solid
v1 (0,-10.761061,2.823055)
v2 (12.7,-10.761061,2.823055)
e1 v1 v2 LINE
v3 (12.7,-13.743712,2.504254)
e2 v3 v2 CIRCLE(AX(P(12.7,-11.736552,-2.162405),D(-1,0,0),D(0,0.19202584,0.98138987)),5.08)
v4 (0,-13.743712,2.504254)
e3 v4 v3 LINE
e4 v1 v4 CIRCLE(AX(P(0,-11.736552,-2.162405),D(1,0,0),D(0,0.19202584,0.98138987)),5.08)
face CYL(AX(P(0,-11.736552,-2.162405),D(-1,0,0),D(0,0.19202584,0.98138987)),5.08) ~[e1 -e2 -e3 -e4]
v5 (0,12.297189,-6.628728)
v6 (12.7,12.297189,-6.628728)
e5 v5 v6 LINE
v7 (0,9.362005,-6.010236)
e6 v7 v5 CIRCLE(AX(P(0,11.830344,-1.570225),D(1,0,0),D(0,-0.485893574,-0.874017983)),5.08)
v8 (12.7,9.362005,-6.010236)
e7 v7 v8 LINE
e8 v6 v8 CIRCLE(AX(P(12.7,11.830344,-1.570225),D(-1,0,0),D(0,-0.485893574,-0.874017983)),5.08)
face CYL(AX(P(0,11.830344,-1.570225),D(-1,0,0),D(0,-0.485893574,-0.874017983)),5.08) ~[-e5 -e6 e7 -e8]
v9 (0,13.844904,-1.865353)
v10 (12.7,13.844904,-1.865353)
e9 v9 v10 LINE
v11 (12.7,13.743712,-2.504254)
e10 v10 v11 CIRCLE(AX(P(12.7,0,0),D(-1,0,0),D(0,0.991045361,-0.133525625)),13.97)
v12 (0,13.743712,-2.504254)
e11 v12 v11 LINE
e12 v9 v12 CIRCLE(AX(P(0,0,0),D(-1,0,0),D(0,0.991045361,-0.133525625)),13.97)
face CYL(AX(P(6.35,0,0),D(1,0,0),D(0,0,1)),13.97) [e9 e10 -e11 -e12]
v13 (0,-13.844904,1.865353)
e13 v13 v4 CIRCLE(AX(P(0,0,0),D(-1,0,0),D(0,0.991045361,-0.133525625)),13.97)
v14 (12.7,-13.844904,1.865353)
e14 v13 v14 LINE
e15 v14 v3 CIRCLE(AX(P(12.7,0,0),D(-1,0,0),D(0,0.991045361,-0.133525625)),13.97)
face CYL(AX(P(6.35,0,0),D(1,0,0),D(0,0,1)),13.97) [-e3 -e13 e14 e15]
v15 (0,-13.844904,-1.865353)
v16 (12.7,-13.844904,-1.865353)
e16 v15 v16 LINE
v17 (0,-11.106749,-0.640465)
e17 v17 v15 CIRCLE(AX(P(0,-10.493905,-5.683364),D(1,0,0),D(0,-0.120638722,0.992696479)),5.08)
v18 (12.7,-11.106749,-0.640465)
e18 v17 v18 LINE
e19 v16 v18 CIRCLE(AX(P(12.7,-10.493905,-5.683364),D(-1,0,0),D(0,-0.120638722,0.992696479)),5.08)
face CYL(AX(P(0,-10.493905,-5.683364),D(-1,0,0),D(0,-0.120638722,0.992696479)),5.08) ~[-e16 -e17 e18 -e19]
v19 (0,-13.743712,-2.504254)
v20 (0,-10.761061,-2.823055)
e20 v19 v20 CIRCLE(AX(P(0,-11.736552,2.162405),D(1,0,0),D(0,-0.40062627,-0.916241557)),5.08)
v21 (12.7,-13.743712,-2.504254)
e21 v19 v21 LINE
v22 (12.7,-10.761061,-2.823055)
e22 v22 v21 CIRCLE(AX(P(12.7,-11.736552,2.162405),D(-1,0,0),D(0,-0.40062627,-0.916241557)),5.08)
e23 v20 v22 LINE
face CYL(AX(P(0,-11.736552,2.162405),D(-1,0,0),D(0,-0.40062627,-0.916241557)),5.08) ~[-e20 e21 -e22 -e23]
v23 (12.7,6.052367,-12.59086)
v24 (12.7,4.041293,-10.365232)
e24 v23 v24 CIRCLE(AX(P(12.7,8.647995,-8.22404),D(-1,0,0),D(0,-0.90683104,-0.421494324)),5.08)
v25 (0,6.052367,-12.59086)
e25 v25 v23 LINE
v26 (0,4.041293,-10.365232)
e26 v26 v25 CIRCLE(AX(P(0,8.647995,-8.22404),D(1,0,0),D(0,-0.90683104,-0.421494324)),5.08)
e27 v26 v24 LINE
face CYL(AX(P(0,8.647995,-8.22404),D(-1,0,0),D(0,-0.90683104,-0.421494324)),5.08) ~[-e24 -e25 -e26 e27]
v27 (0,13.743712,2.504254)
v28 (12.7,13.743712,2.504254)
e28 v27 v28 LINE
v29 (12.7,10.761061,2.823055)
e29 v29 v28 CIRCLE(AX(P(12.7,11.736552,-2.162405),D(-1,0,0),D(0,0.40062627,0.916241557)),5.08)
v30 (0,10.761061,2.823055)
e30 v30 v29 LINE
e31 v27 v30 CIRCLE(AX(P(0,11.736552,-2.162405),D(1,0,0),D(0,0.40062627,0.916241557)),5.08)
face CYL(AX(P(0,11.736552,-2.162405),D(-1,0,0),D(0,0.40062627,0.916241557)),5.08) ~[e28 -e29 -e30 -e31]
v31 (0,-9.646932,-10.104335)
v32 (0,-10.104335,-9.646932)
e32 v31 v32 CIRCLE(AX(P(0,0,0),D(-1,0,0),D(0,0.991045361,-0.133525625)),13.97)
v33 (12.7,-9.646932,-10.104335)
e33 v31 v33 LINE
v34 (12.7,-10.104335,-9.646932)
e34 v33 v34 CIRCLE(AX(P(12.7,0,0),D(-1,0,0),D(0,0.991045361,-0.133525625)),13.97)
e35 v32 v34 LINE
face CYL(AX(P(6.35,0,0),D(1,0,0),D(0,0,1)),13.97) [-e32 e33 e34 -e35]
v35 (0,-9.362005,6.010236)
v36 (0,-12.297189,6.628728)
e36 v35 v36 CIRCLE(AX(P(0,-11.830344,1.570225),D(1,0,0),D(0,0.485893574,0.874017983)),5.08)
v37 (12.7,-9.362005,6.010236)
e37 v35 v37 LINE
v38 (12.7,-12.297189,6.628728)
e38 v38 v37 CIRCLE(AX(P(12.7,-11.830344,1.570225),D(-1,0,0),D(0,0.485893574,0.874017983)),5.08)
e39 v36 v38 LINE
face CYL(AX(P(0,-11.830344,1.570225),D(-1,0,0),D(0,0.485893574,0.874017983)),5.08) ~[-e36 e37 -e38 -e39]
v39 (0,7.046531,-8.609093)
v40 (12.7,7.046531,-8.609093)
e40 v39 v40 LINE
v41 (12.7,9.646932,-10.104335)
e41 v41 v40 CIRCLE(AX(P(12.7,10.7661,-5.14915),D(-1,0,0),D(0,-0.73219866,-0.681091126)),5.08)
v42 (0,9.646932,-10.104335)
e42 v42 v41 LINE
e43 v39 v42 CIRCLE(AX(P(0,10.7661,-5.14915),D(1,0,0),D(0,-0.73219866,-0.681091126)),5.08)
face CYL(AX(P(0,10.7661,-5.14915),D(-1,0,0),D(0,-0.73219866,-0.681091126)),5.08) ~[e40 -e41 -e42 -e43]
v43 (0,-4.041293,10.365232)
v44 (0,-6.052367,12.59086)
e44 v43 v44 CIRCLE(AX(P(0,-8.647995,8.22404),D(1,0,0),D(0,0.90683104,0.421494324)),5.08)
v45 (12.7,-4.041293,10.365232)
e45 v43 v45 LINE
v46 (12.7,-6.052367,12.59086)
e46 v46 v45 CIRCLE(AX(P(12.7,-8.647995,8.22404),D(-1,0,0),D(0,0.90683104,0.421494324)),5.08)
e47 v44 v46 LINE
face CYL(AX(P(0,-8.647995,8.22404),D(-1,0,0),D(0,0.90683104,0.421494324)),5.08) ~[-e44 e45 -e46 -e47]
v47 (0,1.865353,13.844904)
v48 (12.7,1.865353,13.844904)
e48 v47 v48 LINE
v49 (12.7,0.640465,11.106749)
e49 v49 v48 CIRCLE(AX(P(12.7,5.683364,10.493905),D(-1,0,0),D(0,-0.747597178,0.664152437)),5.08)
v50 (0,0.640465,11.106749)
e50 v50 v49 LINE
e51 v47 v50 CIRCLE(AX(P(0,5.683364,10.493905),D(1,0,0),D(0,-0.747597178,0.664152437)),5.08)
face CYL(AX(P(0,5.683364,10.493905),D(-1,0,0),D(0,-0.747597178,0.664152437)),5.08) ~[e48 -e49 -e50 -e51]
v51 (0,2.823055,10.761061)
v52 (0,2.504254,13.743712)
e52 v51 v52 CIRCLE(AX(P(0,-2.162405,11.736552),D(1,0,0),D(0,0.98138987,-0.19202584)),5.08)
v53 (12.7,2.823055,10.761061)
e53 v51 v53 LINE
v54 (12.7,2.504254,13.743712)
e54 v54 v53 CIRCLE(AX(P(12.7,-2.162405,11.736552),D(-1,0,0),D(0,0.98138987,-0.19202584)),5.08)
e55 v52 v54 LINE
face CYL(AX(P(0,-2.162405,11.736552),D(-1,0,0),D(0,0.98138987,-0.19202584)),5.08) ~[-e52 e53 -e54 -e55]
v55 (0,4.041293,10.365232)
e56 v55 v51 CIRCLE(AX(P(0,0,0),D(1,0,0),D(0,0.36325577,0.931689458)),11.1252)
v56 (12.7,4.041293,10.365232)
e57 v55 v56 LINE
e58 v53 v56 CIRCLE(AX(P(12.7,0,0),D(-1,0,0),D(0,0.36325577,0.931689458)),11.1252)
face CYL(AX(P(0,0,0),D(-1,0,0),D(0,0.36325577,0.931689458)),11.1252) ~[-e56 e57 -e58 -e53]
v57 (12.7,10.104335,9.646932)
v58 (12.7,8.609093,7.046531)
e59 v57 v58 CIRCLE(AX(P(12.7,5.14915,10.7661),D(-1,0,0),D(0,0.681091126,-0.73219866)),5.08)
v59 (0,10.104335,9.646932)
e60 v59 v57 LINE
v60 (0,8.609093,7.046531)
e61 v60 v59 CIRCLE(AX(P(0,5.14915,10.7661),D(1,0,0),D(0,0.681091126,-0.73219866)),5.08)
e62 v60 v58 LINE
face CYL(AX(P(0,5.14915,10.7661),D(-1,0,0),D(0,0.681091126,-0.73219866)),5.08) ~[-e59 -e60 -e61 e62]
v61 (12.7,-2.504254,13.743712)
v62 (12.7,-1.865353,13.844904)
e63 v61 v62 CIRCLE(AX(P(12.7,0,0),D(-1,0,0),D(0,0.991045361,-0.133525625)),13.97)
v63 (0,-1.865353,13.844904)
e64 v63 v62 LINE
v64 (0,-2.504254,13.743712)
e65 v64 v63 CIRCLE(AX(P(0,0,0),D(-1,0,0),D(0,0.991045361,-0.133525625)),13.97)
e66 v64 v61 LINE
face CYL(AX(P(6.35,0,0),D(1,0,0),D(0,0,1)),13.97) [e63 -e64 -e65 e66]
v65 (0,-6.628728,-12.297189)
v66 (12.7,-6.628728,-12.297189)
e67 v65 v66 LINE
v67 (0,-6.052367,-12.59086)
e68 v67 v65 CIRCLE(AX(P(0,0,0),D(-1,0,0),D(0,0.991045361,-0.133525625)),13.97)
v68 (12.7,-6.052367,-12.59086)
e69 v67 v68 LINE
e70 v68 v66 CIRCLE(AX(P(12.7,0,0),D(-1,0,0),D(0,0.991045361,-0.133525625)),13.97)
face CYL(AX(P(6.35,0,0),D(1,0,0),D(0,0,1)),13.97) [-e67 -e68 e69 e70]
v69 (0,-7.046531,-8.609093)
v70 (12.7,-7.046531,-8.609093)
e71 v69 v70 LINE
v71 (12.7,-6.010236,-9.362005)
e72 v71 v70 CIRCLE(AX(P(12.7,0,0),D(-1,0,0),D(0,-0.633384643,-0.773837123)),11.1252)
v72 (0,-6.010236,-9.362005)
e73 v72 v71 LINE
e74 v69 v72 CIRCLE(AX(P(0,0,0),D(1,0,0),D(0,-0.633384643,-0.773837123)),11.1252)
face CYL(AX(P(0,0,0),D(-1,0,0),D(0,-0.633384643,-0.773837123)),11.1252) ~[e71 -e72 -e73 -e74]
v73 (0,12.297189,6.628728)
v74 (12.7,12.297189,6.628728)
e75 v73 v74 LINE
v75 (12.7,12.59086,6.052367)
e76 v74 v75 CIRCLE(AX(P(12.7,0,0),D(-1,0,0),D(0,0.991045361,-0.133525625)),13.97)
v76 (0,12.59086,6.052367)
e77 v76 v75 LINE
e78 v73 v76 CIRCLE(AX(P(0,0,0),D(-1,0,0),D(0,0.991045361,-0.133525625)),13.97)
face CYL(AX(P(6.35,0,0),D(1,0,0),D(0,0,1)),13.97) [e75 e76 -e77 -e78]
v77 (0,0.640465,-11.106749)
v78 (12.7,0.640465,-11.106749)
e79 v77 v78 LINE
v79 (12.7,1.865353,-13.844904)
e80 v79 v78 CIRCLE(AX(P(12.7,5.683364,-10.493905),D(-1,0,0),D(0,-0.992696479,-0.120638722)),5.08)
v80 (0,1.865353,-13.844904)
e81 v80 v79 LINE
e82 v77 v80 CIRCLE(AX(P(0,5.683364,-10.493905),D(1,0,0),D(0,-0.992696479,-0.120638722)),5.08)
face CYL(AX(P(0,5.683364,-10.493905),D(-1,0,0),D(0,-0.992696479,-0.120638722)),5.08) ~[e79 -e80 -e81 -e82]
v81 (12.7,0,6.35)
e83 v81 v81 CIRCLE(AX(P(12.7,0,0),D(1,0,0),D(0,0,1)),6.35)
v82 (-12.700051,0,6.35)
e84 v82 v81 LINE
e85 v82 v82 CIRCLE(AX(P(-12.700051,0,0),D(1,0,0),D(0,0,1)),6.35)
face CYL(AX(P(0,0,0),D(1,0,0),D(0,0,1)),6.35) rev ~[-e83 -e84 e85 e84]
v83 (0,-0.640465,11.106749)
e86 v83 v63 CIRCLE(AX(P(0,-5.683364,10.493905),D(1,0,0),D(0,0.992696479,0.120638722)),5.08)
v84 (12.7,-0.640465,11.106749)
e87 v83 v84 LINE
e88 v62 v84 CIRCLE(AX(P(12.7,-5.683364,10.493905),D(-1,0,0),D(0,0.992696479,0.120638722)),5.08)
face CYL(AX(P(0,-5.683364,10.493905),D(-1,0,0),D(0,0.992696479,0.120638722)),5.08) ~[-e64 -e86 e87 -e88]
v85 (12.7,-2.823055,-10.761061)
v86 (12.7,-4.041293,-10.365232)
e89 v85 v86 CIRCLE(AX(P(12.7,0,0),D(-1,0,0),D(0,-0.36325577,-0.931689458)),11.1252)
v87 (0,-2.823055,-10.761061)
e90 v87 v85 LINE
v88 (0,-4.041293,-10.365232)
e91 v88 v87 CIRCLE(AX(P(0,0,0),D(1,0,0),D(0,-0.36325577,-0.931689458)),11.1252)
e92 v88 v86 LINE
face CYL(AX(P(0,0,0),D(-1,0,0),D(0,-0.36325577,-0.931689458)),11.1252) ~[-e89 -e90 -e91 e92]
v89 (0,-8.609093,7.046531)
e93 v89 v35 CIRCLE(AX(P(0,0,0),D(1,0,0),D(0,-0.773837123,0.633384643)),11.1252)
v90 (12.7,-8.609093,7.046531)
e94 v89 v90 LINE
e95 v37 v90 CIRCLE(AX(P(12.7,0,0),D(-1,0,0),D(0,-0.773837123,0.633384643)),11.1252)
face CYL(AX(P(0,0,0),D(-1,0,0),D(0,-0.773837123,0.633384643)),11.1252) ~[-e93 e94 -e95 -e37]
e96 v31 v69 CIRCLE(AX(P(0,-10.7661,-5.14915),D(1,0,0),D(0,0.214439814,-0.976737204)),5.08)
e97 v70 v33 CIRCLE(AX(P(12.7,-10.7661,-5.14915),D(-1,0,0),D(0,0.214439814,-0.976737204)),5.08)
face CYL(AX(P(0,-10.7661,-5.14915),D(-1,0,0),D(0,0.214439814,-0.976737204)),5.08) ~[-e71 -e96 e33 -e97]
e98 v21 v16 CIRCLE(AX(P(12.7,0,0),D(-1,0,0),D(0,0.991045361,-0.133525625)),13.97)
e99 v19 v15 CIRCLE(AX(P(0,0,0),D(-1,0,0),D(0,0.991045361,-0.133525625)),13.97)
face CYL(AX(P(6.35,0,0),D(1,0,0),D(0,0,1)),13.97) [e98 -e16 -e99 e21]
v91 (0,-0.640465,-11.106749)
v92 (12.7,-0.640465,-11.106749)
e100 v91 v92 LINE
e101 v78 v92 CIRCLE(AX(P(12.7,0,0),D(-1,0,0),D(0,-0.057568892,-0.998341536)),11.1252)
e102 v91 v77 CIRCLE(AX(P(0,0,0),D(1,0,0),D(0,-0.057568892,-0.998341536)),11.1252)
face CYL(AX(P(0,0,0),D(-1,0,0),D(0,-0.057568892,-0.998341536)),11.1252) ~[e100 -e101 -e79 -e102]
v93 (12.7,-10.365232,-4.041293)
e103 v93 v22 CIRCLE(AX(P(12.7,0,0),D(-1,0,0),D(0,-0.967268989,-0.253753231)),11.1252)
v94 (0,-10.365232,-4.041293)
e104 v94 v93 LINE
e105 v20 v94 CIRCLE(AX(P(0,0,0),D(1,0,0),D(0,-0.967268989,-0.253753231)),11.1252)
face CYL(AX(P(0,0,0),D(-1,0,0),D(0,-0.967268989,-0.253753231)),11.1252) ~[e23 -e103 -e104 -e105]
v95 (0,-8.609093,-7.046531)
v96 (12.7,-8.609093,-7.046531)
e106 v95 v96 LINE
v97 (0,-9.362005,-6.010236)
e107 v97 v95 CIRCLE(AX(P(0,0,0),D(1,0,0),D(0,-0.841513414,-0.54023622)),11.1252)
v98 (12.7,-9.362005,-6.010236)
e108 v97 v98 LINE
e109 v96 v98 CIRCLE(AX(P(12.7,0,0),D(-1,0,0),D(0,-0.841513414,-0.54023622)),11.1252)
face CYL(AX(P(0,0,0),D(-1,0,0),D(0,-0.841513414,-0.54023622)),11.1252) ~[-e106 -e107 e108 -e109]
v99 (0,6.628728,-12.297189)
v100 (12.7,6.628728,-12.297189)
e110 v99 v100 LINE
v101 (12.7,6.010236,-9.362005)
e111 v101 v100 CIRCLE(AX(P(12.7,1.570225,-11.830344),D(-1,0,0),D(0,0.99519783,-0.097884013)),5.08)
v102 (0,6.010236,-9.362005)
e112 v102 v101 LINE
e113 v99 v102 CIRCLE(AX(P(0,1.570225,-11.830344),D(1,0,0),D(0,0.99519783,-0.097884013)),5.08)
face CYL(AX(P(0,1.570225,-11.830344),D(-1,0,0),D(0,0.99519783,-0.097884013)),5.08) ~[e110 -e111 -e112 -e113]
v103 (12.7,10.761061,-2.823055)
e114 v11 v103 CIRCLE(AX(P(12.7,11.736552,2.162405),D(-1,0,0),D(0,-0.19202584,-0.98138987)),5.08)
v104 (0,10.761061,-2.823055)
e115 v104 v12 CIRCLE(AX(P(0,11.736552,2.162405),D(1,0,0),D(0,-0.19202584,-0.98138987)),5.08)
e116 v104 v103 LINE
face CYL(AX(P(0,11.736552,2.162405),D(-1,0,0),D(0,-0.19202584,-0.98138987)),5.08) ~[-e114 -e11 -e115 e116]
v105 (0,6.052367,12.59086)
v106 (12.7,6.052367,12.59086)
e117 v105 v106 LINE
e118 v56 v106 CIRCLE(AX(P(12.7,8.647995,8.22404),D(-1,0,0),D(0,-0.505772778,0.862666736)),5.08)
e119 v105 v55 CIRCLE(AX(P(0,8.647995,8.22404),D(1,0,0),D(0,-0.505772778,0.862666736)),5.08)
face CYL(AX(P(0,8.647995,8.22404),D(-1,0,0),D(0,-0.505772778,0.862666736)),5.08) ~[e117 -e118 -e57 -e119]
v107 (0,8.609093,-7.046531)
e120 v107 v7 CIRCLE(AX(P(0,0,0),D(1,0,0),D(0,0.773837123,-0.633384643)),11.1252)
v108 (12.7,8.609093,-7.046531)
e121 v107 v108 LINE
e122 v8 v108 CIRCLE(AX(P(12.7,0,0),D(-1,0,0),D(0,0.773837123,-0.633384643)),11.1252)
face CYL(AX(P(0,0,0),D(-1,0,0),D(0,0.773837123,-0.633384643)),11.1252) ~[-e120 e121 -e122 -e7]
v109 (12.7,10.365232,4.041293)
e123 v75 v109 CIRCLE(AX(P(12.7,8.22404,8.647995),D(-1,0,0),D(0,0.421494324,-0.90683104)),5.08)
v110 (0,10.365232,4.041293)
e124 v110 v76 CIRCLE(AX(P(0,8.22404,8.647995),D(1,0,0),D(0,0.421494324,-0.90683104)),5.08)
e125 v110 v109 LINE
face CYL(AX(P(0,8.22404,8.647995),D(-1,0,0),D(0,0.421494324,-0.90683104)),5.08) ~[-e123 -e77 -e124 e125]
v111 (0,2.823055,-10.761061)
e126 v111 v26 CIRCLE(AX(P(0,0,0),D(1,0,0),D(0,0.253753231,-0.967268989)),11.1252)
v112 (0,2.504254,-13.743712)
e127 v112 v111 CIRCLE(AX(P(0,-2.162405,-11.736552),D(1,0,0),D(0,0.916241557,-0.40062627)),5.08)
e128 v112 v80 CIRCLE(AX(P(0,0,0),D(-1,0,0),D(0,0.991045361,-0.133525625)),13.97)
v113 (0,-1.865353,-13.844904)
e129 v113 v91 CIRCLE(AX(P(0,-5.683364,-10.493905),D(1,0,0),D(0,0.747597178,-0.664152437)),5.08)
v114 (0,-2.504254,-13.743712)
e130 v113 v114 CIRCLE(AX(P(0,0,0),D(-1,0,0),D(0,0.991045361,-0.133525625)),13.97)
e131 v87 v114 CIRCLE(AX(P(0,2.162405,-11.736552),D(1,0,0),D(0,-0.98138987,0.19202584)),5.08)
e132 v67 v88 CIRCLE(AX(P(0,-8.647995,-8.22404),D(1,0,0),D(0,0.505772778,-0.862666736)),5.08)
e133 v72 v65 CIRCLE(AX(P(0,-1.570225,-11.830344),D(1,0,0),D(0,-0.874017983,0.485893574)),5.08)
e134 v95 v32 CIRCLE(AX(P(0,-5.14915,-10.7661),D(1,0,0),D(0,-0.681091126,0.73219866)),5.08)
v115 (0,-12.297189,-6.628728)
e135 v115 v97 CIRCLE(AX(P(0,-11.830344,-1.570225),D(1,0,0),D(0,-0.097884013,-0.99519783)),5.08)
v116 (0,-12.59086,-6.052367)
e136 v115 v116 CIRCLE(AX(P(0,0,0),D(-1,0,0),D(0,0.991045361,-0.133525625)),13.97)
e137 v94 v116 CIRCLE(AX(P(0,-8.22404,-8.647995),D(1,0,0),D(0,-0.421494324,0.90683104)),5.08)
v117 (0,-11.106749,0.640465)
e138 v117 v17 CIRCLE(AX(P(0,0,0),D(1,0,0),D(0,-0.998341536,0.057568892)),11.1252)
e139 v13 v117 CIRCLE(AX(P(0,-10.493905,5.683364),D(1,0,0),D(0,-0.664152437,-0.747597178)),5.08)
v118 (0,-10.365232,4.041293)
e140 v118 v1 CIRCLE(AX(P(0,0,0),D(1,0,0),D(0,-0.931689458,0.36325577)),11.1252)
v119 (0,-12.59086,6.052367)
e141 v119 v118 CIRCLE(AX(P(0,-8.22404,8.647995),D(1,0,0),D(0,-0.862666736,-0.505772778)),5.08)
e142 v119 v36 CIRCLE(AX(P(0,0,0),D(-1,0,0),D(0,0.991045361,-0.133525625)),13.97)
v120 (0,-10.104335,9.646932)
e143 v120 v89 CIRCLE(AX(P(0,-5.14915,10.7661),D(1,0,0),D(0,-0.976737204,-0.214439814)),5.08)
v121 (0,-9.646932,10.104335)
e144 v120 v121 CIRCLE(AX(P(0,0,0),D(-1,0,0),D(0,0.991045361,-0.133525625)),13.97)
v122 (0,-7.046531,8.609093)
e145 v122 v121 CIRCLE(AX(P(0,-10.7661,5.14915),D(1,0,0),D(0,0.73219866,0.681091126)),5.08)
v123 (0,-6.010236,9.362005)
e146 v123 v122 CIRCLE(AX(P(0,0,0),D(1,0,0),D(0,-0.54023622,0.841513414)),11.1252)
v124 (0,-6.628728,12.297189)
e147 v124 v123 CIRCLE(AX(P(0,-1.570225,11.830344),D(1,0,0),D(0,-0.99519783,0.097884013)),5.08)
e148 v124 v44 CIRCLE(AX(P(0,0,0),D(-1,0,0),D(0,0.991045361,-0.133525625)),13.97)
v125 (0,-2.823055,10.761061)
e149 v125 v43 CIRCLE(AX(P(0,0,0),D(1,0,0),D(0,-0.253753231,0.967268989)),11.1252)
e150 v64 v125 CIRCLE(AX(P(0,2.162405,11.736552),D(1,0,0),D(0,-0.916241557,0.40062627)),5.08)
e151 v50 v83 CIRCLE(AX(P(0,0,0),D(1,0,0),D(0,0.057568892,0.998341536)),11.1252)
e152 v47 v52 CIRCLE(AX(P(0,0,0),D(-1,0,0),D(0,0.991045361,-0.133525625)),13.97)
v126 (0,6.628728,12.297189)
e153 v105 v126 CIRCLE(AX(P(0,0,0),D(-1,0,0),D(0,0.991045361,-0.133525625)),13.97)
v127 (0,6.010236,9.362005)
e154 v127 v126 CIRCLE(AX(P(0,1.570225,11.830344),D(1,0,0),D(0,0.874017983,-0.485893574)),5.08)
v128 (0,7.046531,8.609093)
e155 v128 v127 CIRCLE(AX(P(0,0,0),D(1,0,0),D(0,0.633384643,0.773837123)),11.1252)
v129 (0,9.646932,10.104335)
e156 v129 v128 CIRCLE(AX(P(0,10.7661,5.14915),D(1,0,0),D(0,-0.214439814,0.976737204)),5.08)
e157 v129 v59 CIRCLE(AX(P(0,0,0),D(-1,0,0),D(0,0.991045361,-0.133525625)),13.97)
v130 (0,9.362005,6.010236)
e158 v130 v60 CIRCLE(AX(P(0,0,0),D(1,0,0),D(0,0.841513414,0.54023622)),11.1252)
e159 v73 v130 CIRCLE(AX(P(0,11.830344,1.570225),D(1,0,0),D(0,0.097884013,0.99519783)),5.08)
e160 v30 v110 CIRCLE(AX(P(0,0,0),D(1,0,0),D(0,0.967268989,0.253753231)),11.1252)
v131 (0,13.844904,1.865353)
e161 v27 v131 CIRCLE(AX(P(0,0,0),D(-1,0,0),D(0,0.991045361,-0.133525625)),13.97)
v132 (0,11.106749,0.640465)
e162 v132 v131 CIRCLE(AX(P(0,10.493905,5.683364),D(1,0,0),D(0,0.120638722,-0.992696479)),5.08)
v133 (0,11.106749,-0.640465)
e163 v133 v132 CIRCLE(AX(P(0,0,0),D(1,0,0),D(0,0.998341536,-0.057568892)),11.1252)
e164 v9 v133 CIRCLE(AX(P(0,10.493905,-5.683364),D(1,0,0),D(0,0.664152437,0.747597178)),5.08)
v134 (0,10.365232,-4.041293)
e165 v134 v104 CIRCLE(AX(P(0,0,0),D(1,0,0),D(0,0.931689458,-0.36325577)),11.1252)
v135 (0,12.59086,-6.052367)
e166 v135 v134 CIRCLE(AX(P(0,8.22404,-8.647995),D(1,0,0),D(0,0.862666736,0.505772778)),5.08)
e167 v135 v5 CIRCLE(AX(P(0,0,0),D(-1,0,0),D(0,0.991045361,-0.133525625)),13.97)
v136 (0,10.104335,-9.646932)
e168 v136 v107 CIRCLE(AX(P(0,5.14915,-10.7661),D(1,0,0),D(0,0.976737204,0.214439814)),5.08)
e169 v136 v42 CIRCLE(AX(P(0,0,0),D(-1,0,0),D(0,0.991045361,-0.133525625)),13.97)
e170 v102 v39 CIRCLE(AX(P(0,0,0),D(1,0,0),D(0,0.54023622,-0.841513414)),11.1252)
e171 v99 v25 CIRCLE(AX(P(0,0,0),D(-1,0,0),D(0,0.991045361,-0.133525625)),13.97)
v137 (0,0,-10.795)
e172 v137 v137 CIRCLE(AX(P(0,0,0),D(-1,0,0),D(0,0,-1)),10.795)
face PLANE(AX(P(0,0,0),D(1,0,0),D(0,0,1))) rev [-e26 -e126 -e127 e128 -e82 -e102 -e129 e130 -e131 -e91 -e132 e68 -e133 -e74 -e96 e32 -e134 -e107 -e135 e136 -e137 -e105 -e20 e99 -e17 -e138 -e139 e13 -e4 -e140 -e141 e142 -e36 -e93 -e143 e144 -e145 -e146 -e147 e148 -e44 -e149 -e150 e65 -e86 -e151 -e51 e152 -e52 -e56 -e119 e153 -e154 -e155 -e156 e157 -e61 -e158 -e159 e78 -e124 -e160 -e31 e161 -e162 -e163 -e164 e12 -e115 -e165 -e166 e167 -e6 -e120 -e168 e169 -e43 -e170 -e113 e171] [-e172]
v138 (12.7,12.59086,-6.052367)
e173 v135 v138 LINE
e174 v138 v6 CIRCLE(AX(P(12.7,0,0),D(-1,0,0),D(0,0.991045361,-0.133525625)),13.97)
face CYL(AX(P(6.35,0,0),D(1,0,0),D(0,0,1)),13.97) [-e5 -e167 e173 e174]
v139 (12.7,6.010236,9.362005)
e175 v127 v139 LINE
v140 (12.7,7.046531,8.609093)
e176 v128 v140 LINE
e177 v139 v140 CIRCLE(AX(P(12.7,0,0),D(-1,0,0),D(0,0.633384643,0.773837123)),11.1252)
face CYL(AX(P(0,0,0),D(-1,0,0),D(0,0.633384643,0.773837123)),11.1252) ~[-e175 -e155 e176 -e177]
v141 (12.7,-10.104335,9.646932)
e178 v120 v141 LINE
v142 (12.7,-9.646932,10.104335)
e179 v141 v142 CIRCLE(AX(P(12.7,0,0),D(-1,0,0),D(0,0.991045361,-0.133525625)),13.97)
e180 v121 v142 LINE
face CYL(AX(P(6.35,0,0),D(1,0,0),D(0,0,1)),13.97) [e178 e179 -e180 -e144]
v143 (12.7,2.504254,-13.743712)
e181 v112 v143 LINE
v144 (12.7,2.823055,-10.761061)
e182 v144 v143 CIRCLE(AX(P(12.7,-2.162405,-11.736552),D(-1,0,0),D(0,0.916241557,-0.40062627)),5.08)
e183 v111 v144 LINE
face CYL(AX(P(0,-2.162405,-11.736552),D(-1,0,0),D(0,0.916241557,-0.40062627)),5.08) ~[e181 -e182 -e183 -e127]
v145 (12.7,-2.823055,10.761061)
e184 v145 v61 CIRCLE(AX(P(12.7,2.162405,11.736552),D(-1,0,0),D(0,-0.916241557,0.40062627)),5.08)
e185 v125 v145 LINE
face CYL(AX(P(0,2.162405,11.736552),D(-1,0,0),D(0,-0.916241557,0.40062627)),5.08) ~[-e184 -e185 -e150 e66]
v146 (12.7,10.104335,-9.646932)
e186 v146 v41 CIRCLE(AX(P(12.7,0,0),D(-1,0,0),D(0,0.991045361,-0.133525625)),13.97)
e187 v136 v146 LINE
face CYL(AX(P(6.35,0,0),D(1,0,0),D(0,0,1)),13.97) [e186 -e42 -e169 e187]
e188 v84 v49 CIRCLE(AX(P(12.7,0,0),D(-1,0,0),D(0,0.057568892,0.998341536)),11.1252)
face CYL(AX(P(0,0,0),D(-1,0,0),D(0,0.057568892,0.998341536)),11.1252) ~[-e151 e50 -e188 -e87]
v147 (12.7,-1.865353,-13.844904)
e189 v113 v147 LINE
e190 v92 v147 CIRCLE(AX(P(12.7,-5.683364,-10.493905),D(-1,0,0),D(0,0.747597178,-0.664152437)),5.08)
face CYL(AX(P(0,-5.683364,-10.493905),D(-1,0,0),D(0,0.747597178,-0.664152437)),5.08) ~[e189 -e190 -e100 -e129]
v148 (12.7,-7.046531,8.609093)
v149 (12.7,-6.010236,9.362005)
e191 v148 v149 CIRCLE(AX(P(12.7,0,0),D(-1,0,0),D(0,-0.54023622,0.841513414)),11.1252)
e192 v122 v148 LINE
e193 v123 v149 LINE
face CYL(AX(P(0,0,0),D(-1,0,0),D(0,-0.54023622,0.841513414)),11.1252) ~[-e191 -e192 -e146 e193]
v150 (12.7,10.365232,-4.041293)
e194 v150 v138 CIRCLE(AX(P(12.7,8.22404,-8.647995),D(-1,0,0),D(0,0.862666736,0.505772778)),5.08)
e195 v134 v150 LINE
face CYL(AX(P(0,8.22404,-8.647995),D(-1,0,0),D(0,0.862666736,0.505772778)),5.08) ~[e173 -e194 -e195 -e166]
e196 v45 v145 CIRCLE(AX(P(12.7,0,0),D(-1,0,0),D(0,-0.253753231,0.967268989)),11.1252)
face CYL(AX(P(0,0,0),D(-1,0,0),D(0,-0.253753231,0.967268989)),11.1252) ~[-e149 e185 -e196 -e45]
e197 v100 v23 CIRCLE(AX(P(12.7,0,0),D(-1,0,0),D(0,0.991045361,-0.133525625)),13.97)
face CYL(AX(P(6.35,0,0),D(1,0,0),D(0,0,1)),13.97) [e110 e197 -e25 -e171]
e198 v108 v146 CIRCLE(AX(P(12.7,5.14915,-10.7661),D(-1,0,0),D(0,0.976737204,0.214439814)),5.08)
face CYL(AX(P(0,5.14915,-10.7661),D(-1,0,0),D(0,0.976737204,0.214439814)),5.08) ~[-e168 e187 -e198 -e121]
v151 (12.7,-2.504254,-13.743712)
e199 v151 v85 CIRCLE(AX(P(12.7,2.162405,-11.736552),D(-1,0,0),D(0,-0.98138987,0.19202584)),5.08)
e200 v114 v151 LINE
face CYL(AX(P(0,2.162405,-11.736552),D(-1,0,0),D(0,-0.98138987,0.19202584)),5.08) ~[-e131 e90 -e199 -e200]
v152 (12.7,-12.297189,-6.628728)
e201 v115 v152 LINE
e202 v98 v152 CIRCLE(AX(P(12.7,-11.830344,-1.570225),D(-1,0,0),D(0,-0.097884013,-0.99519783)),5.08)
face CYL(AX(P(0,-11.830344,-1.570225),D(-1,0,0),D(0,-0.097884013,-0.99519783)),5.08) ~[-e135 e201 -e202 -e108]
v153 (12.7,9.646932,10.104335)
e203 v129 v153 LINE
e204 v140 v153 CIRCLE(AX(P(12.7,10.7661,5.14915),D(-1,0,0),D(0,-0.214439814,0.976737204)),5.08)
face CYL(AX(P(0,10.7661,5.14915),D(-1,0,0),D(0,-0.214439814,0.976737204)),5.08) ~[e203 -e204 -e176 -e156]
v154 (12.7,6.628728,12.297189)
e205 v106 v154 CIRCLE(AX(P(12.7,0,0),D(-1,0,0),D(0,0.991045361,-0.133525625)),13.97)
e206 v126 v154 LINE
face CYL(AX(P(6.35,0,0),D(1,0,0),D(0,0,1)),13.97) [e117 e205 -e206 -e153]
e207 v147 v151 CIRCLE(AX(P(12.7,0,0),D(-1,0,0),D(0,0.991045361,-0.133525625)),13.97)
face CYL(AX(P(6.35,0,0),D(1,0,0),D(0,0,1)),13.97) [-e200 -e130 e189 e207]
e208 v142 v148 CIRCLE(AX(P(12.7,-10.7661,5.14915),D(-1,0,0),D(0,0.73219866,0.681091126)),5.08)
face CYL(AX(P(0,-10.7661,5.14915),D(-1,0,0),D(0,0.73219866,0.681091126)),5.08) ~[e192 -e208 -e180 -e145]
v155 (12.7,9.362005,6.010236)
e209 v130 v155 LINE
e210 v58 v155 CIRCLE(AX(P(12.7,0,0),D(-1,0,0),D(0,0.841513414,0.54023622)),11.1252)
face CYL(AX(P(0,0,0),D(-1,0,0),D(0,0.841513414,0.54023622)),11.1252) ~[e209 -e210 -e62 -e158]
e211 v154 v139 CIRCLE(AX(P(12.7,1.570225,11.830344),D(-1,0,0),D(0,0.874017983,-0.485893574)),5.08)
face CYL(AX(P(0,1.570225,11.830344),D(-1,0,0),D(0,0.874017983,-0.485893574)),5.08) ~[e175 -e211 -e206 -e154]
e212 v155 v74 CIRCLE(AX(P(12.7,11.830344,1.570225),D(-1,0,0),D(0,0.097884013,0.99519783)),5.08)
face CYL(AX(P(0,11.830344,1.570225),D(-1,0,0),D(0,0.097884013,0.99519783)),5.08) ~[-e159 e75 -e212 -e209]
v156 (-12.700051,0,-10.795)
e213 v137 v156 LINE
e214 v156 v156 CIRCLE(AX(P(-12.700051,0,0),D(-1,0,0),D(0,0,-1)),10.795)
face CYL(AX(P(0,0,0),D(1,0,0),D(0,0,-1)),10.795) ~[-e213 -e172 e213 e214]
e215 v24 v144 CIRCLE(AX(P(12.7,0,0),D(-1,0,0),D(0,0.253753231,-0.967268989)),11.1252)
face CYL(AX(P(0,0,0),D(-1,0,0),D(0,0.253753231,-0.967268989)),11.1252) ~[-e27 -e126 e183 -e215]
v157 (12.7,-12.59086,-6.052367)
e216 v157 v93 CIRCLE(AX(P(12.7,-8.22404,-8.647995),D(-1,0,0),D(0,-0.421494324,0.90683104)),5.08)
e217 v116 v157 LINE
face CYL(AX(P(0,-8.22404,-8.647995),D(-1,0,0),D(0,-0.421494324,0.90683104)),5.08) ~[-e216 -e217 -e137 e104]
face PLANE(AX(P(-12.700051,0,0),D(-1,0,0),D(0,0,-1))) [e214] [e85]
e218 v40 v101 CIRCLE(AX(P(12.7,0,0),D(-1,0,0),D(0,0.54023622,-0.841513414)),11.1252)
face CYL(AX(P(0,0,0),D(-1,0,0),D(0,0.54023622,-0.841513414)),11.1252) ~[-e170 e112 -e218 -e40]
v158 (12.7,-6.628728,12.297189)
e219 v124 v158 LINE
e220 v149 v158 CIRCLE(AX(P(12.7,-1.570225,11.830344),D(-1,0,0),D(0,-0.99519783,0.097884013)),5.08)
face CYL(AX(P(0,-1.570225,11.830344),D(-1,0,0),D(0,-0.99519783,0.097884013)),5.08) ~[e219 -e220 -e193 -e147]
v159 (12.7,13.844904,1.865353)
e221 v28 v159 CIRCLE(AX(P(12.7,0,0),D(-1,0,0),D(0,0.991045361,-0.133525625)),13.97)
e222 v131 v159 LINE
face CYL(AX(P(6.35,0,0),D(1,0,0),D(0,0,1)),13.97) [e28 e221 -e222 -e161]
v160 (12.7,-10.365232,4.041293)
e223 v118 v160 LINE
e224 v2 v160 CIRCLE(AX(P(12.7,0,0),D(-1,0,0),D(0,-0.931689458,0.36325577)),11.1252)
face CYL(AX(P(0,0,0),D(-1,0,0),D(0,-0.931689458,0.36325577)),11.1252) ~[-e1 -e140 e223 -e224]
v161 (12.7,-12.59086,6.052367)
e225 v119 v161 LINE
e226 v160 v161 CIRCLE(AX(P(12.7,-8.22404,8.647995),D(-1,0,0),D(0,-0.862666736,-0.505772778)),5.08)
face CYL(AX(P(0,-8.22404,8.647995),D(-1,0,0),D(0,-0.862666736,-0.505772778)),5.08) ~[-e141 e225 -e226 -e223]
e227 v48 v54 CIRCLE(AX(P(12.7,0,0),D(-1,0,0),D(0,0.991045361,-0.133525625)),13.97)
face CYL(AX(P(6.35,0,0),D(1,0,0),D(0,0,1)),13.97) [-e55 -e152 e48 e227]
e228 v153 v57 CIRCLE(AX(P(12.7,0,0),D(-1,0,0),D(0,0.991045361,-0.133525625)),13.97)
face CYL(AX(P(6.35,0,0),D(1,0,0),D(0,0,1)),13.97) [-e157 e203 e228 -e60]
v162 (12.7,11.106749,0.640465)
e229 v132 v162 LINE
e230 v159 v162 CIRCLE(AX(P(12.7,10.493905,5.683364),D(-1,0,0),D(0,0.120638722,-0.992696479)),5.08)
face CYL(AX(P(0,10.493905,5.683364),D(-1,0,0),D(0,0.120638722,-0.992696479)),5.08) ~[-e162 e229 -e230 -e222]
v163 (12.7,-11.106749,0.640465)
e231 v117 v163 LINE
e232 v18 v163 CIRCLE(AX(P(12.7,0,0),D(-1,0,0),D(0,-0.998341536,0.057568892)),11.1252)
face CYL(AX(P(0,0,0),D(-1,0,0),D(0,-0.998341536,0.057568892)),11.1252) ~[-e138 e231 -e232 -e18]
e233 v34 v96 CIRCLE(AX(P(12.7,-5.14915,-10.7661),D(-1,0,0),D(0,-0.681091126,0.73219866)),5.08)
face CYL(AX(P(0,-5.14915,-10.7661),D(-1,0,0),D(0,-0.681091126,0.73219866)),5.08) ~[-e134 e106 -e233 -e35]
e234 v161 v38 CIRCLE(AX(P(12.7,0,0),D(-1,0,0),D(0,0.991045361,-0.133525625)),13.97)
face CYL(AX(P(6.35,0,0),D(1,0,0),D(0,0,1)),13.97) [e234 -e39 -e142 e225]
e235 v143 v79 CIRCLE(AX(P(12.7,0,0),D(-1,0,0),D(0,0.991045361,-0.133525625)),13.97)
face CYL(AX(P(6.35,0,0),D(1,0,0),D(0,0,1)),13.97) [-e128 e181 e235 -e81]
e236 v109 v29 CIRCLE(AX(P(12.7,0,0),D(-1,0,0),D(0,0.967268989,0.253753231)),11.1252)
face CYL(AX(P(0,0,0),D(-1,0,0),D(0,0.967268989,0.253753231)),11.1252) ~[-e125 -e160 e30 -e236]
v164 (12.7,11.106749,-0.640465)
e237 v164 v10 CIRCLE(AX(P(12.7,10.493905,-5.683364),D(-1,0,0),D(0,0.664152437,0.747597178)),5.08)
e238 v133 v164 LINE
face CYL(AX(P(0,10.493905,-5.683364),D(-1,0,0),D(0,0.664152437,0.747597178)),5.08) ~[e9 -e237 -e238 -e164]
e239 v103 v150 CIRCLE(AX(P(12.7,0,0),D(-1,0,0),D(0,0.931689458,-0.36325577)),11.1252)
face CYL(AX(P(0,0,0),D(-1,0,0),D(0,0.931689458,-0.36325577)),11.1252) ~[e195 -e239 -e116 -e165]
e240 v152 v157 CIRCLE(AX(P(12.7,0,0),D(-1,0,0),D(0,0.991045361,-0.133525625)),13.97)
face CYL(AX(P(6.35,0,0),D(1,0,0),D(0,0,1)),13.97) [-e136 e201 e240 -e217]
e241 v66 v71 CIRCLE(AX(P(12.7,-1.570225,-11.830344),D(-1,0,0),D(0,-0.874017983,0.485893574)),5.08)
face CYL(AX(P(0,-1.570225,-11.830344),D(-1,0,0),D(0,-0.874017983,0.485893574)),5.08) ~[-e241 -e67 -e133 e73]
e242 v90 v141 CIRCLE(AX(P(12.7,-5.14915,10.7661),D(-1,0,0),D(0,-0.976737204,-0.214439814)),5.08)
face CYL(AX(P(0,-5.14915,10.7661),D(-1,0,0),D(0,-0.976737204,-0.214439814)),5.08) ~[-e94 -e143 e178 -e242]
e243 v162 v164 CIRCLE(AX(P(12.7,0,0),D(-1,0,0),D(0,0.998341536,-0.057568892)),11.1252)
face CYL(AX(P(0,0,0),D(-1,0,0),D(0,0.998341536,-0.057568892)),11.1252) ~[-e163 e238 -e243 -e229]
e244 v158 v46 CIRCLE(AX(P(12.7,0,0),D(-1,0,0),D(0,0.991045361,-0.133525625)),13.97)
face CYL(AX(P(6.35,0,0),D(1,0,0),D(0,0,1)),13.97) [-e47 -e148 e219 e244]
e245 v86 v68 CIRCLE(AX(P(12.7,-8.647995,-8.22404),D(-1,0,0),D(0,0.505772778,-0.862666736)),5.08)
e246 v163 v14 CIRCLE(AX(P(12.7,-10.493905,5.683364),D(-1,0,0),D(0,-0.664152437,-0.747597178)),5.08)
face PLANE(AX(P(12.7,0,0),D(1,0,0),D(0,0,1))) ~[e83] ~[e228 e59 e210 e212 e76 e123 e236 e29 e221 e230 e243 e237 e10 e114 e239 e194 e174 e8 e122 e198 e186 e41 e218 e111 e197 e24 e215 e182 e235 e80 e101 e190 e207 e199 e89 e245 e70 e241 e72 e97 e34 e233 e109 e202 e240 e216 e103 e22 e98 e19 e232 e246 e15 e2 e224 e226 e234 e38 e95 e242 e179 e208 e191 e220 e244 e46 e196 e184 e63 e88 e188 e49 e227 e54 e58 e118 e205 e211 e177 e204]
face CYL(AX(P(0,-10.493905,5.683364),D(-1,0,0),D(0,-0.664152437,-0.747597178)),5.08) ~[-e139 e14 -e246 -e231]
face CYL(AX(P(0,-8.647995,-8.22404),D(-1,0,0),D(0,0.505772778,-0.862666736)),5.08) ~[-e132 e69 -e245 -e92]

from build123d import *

# Parameters (mm, degrees)
BASPROSKE_W      = 12.7
BASPROSKE_H      = 13.97
TOOTHCUT_DEPTH   = 24.486417351
TEETHCUTS_COUNT  = 20
TEETHCUTS_ANGLE  = 342
HUBNEAONESKE_R   = 10.795
HUBNEARONE_DEPTH = 12.7000508
BORSKE_R         = 6.35
BORE_DEPTH       = 25.4000508


with BuildPart() as part:
    # BasProSke → Base-Revolve (revolve)
    with BuildSketch(Plane(origin=(0, 0, 0), x_dir=(1, 0, 0), z_dir=(0, 1, 0)), mode=Mode.PRIVATE) as base_revolve_sk:
        with Locations((6.35, 6.985)):
            Rectangle(BASPROSKE_W, BASPROSKE_H)
    revolve(base_revolve_sk.sketch.rotate(Axis((-10, 0, 0), (1, 0, 0)), 180), axis=Axis((-10, 0, 0), (1, 0, 0)))

    # TooCutSke → ToothCut (cut, through all)
    with BuildSketch(Plane(origin=(0, 0, 0), x_dir=(0, 0, -1), z_dir=(1, 0, 0))):
        with BuildLine():
            ThreePointArc((0.64046545, 11.106749257), (0, 11.1252), (-0.64046545, 11.106749257))
            ThreePointArc((-0.64046545, 11.106749257), (-1.052455812, 12.582227662), (-1.8855699, 13.867798935))
            ThreePointArc((-1.8855699, 13.867798935), (0, 13.9954), (1.8855699, 13.867798935))
            ThreePointArc((1.8855699, 13.867798935), (1.052455812, 12.582227662), (0.64046545, 11.106749257))
        make_face()
    toothcut = extrude(amount=TOOTHCUT_DEPTH, mode=Mode.SUBTRACT)

    # TeethCuts: ToothCut ×20 about axis
    teethcuts_axis = Axis((-10, 0, 0), (1, 0, 0))
    for i in range(1, TEETHCUTS_COUNT):
        add(toothcut.rotate(teethcuts_axis, i * TEETHCUTS_ANGLE / (TEETHCUTS_COUNT - 1)), mode=Mode.SUBTRACT)

    # HubNeaOneSke → HubNearOne (add)
    with BuildSketch(Plane.ZY):
        with Locations(Location((0, 0, 0), (0, 0, 180))):
            Circle(HUBNEAONESKE_R)
    extrude(amount=HUBNEARONE_DEPTH)

    # BorSke → Bore (cut, symmetric)
    with BuildSketch(Plane(origin=(0, 0, 0), x_dir=(0, 0, -1), z_dir=(1, 0, 0))):
        with Locations(Location((0, 0, 0), (0, 0, 180))):
            Circle(BORSKE_R)
    extrude(amount=BORE_DEPTH, both=True, mode=Mode.SUBTRACT)


solid = part.part
